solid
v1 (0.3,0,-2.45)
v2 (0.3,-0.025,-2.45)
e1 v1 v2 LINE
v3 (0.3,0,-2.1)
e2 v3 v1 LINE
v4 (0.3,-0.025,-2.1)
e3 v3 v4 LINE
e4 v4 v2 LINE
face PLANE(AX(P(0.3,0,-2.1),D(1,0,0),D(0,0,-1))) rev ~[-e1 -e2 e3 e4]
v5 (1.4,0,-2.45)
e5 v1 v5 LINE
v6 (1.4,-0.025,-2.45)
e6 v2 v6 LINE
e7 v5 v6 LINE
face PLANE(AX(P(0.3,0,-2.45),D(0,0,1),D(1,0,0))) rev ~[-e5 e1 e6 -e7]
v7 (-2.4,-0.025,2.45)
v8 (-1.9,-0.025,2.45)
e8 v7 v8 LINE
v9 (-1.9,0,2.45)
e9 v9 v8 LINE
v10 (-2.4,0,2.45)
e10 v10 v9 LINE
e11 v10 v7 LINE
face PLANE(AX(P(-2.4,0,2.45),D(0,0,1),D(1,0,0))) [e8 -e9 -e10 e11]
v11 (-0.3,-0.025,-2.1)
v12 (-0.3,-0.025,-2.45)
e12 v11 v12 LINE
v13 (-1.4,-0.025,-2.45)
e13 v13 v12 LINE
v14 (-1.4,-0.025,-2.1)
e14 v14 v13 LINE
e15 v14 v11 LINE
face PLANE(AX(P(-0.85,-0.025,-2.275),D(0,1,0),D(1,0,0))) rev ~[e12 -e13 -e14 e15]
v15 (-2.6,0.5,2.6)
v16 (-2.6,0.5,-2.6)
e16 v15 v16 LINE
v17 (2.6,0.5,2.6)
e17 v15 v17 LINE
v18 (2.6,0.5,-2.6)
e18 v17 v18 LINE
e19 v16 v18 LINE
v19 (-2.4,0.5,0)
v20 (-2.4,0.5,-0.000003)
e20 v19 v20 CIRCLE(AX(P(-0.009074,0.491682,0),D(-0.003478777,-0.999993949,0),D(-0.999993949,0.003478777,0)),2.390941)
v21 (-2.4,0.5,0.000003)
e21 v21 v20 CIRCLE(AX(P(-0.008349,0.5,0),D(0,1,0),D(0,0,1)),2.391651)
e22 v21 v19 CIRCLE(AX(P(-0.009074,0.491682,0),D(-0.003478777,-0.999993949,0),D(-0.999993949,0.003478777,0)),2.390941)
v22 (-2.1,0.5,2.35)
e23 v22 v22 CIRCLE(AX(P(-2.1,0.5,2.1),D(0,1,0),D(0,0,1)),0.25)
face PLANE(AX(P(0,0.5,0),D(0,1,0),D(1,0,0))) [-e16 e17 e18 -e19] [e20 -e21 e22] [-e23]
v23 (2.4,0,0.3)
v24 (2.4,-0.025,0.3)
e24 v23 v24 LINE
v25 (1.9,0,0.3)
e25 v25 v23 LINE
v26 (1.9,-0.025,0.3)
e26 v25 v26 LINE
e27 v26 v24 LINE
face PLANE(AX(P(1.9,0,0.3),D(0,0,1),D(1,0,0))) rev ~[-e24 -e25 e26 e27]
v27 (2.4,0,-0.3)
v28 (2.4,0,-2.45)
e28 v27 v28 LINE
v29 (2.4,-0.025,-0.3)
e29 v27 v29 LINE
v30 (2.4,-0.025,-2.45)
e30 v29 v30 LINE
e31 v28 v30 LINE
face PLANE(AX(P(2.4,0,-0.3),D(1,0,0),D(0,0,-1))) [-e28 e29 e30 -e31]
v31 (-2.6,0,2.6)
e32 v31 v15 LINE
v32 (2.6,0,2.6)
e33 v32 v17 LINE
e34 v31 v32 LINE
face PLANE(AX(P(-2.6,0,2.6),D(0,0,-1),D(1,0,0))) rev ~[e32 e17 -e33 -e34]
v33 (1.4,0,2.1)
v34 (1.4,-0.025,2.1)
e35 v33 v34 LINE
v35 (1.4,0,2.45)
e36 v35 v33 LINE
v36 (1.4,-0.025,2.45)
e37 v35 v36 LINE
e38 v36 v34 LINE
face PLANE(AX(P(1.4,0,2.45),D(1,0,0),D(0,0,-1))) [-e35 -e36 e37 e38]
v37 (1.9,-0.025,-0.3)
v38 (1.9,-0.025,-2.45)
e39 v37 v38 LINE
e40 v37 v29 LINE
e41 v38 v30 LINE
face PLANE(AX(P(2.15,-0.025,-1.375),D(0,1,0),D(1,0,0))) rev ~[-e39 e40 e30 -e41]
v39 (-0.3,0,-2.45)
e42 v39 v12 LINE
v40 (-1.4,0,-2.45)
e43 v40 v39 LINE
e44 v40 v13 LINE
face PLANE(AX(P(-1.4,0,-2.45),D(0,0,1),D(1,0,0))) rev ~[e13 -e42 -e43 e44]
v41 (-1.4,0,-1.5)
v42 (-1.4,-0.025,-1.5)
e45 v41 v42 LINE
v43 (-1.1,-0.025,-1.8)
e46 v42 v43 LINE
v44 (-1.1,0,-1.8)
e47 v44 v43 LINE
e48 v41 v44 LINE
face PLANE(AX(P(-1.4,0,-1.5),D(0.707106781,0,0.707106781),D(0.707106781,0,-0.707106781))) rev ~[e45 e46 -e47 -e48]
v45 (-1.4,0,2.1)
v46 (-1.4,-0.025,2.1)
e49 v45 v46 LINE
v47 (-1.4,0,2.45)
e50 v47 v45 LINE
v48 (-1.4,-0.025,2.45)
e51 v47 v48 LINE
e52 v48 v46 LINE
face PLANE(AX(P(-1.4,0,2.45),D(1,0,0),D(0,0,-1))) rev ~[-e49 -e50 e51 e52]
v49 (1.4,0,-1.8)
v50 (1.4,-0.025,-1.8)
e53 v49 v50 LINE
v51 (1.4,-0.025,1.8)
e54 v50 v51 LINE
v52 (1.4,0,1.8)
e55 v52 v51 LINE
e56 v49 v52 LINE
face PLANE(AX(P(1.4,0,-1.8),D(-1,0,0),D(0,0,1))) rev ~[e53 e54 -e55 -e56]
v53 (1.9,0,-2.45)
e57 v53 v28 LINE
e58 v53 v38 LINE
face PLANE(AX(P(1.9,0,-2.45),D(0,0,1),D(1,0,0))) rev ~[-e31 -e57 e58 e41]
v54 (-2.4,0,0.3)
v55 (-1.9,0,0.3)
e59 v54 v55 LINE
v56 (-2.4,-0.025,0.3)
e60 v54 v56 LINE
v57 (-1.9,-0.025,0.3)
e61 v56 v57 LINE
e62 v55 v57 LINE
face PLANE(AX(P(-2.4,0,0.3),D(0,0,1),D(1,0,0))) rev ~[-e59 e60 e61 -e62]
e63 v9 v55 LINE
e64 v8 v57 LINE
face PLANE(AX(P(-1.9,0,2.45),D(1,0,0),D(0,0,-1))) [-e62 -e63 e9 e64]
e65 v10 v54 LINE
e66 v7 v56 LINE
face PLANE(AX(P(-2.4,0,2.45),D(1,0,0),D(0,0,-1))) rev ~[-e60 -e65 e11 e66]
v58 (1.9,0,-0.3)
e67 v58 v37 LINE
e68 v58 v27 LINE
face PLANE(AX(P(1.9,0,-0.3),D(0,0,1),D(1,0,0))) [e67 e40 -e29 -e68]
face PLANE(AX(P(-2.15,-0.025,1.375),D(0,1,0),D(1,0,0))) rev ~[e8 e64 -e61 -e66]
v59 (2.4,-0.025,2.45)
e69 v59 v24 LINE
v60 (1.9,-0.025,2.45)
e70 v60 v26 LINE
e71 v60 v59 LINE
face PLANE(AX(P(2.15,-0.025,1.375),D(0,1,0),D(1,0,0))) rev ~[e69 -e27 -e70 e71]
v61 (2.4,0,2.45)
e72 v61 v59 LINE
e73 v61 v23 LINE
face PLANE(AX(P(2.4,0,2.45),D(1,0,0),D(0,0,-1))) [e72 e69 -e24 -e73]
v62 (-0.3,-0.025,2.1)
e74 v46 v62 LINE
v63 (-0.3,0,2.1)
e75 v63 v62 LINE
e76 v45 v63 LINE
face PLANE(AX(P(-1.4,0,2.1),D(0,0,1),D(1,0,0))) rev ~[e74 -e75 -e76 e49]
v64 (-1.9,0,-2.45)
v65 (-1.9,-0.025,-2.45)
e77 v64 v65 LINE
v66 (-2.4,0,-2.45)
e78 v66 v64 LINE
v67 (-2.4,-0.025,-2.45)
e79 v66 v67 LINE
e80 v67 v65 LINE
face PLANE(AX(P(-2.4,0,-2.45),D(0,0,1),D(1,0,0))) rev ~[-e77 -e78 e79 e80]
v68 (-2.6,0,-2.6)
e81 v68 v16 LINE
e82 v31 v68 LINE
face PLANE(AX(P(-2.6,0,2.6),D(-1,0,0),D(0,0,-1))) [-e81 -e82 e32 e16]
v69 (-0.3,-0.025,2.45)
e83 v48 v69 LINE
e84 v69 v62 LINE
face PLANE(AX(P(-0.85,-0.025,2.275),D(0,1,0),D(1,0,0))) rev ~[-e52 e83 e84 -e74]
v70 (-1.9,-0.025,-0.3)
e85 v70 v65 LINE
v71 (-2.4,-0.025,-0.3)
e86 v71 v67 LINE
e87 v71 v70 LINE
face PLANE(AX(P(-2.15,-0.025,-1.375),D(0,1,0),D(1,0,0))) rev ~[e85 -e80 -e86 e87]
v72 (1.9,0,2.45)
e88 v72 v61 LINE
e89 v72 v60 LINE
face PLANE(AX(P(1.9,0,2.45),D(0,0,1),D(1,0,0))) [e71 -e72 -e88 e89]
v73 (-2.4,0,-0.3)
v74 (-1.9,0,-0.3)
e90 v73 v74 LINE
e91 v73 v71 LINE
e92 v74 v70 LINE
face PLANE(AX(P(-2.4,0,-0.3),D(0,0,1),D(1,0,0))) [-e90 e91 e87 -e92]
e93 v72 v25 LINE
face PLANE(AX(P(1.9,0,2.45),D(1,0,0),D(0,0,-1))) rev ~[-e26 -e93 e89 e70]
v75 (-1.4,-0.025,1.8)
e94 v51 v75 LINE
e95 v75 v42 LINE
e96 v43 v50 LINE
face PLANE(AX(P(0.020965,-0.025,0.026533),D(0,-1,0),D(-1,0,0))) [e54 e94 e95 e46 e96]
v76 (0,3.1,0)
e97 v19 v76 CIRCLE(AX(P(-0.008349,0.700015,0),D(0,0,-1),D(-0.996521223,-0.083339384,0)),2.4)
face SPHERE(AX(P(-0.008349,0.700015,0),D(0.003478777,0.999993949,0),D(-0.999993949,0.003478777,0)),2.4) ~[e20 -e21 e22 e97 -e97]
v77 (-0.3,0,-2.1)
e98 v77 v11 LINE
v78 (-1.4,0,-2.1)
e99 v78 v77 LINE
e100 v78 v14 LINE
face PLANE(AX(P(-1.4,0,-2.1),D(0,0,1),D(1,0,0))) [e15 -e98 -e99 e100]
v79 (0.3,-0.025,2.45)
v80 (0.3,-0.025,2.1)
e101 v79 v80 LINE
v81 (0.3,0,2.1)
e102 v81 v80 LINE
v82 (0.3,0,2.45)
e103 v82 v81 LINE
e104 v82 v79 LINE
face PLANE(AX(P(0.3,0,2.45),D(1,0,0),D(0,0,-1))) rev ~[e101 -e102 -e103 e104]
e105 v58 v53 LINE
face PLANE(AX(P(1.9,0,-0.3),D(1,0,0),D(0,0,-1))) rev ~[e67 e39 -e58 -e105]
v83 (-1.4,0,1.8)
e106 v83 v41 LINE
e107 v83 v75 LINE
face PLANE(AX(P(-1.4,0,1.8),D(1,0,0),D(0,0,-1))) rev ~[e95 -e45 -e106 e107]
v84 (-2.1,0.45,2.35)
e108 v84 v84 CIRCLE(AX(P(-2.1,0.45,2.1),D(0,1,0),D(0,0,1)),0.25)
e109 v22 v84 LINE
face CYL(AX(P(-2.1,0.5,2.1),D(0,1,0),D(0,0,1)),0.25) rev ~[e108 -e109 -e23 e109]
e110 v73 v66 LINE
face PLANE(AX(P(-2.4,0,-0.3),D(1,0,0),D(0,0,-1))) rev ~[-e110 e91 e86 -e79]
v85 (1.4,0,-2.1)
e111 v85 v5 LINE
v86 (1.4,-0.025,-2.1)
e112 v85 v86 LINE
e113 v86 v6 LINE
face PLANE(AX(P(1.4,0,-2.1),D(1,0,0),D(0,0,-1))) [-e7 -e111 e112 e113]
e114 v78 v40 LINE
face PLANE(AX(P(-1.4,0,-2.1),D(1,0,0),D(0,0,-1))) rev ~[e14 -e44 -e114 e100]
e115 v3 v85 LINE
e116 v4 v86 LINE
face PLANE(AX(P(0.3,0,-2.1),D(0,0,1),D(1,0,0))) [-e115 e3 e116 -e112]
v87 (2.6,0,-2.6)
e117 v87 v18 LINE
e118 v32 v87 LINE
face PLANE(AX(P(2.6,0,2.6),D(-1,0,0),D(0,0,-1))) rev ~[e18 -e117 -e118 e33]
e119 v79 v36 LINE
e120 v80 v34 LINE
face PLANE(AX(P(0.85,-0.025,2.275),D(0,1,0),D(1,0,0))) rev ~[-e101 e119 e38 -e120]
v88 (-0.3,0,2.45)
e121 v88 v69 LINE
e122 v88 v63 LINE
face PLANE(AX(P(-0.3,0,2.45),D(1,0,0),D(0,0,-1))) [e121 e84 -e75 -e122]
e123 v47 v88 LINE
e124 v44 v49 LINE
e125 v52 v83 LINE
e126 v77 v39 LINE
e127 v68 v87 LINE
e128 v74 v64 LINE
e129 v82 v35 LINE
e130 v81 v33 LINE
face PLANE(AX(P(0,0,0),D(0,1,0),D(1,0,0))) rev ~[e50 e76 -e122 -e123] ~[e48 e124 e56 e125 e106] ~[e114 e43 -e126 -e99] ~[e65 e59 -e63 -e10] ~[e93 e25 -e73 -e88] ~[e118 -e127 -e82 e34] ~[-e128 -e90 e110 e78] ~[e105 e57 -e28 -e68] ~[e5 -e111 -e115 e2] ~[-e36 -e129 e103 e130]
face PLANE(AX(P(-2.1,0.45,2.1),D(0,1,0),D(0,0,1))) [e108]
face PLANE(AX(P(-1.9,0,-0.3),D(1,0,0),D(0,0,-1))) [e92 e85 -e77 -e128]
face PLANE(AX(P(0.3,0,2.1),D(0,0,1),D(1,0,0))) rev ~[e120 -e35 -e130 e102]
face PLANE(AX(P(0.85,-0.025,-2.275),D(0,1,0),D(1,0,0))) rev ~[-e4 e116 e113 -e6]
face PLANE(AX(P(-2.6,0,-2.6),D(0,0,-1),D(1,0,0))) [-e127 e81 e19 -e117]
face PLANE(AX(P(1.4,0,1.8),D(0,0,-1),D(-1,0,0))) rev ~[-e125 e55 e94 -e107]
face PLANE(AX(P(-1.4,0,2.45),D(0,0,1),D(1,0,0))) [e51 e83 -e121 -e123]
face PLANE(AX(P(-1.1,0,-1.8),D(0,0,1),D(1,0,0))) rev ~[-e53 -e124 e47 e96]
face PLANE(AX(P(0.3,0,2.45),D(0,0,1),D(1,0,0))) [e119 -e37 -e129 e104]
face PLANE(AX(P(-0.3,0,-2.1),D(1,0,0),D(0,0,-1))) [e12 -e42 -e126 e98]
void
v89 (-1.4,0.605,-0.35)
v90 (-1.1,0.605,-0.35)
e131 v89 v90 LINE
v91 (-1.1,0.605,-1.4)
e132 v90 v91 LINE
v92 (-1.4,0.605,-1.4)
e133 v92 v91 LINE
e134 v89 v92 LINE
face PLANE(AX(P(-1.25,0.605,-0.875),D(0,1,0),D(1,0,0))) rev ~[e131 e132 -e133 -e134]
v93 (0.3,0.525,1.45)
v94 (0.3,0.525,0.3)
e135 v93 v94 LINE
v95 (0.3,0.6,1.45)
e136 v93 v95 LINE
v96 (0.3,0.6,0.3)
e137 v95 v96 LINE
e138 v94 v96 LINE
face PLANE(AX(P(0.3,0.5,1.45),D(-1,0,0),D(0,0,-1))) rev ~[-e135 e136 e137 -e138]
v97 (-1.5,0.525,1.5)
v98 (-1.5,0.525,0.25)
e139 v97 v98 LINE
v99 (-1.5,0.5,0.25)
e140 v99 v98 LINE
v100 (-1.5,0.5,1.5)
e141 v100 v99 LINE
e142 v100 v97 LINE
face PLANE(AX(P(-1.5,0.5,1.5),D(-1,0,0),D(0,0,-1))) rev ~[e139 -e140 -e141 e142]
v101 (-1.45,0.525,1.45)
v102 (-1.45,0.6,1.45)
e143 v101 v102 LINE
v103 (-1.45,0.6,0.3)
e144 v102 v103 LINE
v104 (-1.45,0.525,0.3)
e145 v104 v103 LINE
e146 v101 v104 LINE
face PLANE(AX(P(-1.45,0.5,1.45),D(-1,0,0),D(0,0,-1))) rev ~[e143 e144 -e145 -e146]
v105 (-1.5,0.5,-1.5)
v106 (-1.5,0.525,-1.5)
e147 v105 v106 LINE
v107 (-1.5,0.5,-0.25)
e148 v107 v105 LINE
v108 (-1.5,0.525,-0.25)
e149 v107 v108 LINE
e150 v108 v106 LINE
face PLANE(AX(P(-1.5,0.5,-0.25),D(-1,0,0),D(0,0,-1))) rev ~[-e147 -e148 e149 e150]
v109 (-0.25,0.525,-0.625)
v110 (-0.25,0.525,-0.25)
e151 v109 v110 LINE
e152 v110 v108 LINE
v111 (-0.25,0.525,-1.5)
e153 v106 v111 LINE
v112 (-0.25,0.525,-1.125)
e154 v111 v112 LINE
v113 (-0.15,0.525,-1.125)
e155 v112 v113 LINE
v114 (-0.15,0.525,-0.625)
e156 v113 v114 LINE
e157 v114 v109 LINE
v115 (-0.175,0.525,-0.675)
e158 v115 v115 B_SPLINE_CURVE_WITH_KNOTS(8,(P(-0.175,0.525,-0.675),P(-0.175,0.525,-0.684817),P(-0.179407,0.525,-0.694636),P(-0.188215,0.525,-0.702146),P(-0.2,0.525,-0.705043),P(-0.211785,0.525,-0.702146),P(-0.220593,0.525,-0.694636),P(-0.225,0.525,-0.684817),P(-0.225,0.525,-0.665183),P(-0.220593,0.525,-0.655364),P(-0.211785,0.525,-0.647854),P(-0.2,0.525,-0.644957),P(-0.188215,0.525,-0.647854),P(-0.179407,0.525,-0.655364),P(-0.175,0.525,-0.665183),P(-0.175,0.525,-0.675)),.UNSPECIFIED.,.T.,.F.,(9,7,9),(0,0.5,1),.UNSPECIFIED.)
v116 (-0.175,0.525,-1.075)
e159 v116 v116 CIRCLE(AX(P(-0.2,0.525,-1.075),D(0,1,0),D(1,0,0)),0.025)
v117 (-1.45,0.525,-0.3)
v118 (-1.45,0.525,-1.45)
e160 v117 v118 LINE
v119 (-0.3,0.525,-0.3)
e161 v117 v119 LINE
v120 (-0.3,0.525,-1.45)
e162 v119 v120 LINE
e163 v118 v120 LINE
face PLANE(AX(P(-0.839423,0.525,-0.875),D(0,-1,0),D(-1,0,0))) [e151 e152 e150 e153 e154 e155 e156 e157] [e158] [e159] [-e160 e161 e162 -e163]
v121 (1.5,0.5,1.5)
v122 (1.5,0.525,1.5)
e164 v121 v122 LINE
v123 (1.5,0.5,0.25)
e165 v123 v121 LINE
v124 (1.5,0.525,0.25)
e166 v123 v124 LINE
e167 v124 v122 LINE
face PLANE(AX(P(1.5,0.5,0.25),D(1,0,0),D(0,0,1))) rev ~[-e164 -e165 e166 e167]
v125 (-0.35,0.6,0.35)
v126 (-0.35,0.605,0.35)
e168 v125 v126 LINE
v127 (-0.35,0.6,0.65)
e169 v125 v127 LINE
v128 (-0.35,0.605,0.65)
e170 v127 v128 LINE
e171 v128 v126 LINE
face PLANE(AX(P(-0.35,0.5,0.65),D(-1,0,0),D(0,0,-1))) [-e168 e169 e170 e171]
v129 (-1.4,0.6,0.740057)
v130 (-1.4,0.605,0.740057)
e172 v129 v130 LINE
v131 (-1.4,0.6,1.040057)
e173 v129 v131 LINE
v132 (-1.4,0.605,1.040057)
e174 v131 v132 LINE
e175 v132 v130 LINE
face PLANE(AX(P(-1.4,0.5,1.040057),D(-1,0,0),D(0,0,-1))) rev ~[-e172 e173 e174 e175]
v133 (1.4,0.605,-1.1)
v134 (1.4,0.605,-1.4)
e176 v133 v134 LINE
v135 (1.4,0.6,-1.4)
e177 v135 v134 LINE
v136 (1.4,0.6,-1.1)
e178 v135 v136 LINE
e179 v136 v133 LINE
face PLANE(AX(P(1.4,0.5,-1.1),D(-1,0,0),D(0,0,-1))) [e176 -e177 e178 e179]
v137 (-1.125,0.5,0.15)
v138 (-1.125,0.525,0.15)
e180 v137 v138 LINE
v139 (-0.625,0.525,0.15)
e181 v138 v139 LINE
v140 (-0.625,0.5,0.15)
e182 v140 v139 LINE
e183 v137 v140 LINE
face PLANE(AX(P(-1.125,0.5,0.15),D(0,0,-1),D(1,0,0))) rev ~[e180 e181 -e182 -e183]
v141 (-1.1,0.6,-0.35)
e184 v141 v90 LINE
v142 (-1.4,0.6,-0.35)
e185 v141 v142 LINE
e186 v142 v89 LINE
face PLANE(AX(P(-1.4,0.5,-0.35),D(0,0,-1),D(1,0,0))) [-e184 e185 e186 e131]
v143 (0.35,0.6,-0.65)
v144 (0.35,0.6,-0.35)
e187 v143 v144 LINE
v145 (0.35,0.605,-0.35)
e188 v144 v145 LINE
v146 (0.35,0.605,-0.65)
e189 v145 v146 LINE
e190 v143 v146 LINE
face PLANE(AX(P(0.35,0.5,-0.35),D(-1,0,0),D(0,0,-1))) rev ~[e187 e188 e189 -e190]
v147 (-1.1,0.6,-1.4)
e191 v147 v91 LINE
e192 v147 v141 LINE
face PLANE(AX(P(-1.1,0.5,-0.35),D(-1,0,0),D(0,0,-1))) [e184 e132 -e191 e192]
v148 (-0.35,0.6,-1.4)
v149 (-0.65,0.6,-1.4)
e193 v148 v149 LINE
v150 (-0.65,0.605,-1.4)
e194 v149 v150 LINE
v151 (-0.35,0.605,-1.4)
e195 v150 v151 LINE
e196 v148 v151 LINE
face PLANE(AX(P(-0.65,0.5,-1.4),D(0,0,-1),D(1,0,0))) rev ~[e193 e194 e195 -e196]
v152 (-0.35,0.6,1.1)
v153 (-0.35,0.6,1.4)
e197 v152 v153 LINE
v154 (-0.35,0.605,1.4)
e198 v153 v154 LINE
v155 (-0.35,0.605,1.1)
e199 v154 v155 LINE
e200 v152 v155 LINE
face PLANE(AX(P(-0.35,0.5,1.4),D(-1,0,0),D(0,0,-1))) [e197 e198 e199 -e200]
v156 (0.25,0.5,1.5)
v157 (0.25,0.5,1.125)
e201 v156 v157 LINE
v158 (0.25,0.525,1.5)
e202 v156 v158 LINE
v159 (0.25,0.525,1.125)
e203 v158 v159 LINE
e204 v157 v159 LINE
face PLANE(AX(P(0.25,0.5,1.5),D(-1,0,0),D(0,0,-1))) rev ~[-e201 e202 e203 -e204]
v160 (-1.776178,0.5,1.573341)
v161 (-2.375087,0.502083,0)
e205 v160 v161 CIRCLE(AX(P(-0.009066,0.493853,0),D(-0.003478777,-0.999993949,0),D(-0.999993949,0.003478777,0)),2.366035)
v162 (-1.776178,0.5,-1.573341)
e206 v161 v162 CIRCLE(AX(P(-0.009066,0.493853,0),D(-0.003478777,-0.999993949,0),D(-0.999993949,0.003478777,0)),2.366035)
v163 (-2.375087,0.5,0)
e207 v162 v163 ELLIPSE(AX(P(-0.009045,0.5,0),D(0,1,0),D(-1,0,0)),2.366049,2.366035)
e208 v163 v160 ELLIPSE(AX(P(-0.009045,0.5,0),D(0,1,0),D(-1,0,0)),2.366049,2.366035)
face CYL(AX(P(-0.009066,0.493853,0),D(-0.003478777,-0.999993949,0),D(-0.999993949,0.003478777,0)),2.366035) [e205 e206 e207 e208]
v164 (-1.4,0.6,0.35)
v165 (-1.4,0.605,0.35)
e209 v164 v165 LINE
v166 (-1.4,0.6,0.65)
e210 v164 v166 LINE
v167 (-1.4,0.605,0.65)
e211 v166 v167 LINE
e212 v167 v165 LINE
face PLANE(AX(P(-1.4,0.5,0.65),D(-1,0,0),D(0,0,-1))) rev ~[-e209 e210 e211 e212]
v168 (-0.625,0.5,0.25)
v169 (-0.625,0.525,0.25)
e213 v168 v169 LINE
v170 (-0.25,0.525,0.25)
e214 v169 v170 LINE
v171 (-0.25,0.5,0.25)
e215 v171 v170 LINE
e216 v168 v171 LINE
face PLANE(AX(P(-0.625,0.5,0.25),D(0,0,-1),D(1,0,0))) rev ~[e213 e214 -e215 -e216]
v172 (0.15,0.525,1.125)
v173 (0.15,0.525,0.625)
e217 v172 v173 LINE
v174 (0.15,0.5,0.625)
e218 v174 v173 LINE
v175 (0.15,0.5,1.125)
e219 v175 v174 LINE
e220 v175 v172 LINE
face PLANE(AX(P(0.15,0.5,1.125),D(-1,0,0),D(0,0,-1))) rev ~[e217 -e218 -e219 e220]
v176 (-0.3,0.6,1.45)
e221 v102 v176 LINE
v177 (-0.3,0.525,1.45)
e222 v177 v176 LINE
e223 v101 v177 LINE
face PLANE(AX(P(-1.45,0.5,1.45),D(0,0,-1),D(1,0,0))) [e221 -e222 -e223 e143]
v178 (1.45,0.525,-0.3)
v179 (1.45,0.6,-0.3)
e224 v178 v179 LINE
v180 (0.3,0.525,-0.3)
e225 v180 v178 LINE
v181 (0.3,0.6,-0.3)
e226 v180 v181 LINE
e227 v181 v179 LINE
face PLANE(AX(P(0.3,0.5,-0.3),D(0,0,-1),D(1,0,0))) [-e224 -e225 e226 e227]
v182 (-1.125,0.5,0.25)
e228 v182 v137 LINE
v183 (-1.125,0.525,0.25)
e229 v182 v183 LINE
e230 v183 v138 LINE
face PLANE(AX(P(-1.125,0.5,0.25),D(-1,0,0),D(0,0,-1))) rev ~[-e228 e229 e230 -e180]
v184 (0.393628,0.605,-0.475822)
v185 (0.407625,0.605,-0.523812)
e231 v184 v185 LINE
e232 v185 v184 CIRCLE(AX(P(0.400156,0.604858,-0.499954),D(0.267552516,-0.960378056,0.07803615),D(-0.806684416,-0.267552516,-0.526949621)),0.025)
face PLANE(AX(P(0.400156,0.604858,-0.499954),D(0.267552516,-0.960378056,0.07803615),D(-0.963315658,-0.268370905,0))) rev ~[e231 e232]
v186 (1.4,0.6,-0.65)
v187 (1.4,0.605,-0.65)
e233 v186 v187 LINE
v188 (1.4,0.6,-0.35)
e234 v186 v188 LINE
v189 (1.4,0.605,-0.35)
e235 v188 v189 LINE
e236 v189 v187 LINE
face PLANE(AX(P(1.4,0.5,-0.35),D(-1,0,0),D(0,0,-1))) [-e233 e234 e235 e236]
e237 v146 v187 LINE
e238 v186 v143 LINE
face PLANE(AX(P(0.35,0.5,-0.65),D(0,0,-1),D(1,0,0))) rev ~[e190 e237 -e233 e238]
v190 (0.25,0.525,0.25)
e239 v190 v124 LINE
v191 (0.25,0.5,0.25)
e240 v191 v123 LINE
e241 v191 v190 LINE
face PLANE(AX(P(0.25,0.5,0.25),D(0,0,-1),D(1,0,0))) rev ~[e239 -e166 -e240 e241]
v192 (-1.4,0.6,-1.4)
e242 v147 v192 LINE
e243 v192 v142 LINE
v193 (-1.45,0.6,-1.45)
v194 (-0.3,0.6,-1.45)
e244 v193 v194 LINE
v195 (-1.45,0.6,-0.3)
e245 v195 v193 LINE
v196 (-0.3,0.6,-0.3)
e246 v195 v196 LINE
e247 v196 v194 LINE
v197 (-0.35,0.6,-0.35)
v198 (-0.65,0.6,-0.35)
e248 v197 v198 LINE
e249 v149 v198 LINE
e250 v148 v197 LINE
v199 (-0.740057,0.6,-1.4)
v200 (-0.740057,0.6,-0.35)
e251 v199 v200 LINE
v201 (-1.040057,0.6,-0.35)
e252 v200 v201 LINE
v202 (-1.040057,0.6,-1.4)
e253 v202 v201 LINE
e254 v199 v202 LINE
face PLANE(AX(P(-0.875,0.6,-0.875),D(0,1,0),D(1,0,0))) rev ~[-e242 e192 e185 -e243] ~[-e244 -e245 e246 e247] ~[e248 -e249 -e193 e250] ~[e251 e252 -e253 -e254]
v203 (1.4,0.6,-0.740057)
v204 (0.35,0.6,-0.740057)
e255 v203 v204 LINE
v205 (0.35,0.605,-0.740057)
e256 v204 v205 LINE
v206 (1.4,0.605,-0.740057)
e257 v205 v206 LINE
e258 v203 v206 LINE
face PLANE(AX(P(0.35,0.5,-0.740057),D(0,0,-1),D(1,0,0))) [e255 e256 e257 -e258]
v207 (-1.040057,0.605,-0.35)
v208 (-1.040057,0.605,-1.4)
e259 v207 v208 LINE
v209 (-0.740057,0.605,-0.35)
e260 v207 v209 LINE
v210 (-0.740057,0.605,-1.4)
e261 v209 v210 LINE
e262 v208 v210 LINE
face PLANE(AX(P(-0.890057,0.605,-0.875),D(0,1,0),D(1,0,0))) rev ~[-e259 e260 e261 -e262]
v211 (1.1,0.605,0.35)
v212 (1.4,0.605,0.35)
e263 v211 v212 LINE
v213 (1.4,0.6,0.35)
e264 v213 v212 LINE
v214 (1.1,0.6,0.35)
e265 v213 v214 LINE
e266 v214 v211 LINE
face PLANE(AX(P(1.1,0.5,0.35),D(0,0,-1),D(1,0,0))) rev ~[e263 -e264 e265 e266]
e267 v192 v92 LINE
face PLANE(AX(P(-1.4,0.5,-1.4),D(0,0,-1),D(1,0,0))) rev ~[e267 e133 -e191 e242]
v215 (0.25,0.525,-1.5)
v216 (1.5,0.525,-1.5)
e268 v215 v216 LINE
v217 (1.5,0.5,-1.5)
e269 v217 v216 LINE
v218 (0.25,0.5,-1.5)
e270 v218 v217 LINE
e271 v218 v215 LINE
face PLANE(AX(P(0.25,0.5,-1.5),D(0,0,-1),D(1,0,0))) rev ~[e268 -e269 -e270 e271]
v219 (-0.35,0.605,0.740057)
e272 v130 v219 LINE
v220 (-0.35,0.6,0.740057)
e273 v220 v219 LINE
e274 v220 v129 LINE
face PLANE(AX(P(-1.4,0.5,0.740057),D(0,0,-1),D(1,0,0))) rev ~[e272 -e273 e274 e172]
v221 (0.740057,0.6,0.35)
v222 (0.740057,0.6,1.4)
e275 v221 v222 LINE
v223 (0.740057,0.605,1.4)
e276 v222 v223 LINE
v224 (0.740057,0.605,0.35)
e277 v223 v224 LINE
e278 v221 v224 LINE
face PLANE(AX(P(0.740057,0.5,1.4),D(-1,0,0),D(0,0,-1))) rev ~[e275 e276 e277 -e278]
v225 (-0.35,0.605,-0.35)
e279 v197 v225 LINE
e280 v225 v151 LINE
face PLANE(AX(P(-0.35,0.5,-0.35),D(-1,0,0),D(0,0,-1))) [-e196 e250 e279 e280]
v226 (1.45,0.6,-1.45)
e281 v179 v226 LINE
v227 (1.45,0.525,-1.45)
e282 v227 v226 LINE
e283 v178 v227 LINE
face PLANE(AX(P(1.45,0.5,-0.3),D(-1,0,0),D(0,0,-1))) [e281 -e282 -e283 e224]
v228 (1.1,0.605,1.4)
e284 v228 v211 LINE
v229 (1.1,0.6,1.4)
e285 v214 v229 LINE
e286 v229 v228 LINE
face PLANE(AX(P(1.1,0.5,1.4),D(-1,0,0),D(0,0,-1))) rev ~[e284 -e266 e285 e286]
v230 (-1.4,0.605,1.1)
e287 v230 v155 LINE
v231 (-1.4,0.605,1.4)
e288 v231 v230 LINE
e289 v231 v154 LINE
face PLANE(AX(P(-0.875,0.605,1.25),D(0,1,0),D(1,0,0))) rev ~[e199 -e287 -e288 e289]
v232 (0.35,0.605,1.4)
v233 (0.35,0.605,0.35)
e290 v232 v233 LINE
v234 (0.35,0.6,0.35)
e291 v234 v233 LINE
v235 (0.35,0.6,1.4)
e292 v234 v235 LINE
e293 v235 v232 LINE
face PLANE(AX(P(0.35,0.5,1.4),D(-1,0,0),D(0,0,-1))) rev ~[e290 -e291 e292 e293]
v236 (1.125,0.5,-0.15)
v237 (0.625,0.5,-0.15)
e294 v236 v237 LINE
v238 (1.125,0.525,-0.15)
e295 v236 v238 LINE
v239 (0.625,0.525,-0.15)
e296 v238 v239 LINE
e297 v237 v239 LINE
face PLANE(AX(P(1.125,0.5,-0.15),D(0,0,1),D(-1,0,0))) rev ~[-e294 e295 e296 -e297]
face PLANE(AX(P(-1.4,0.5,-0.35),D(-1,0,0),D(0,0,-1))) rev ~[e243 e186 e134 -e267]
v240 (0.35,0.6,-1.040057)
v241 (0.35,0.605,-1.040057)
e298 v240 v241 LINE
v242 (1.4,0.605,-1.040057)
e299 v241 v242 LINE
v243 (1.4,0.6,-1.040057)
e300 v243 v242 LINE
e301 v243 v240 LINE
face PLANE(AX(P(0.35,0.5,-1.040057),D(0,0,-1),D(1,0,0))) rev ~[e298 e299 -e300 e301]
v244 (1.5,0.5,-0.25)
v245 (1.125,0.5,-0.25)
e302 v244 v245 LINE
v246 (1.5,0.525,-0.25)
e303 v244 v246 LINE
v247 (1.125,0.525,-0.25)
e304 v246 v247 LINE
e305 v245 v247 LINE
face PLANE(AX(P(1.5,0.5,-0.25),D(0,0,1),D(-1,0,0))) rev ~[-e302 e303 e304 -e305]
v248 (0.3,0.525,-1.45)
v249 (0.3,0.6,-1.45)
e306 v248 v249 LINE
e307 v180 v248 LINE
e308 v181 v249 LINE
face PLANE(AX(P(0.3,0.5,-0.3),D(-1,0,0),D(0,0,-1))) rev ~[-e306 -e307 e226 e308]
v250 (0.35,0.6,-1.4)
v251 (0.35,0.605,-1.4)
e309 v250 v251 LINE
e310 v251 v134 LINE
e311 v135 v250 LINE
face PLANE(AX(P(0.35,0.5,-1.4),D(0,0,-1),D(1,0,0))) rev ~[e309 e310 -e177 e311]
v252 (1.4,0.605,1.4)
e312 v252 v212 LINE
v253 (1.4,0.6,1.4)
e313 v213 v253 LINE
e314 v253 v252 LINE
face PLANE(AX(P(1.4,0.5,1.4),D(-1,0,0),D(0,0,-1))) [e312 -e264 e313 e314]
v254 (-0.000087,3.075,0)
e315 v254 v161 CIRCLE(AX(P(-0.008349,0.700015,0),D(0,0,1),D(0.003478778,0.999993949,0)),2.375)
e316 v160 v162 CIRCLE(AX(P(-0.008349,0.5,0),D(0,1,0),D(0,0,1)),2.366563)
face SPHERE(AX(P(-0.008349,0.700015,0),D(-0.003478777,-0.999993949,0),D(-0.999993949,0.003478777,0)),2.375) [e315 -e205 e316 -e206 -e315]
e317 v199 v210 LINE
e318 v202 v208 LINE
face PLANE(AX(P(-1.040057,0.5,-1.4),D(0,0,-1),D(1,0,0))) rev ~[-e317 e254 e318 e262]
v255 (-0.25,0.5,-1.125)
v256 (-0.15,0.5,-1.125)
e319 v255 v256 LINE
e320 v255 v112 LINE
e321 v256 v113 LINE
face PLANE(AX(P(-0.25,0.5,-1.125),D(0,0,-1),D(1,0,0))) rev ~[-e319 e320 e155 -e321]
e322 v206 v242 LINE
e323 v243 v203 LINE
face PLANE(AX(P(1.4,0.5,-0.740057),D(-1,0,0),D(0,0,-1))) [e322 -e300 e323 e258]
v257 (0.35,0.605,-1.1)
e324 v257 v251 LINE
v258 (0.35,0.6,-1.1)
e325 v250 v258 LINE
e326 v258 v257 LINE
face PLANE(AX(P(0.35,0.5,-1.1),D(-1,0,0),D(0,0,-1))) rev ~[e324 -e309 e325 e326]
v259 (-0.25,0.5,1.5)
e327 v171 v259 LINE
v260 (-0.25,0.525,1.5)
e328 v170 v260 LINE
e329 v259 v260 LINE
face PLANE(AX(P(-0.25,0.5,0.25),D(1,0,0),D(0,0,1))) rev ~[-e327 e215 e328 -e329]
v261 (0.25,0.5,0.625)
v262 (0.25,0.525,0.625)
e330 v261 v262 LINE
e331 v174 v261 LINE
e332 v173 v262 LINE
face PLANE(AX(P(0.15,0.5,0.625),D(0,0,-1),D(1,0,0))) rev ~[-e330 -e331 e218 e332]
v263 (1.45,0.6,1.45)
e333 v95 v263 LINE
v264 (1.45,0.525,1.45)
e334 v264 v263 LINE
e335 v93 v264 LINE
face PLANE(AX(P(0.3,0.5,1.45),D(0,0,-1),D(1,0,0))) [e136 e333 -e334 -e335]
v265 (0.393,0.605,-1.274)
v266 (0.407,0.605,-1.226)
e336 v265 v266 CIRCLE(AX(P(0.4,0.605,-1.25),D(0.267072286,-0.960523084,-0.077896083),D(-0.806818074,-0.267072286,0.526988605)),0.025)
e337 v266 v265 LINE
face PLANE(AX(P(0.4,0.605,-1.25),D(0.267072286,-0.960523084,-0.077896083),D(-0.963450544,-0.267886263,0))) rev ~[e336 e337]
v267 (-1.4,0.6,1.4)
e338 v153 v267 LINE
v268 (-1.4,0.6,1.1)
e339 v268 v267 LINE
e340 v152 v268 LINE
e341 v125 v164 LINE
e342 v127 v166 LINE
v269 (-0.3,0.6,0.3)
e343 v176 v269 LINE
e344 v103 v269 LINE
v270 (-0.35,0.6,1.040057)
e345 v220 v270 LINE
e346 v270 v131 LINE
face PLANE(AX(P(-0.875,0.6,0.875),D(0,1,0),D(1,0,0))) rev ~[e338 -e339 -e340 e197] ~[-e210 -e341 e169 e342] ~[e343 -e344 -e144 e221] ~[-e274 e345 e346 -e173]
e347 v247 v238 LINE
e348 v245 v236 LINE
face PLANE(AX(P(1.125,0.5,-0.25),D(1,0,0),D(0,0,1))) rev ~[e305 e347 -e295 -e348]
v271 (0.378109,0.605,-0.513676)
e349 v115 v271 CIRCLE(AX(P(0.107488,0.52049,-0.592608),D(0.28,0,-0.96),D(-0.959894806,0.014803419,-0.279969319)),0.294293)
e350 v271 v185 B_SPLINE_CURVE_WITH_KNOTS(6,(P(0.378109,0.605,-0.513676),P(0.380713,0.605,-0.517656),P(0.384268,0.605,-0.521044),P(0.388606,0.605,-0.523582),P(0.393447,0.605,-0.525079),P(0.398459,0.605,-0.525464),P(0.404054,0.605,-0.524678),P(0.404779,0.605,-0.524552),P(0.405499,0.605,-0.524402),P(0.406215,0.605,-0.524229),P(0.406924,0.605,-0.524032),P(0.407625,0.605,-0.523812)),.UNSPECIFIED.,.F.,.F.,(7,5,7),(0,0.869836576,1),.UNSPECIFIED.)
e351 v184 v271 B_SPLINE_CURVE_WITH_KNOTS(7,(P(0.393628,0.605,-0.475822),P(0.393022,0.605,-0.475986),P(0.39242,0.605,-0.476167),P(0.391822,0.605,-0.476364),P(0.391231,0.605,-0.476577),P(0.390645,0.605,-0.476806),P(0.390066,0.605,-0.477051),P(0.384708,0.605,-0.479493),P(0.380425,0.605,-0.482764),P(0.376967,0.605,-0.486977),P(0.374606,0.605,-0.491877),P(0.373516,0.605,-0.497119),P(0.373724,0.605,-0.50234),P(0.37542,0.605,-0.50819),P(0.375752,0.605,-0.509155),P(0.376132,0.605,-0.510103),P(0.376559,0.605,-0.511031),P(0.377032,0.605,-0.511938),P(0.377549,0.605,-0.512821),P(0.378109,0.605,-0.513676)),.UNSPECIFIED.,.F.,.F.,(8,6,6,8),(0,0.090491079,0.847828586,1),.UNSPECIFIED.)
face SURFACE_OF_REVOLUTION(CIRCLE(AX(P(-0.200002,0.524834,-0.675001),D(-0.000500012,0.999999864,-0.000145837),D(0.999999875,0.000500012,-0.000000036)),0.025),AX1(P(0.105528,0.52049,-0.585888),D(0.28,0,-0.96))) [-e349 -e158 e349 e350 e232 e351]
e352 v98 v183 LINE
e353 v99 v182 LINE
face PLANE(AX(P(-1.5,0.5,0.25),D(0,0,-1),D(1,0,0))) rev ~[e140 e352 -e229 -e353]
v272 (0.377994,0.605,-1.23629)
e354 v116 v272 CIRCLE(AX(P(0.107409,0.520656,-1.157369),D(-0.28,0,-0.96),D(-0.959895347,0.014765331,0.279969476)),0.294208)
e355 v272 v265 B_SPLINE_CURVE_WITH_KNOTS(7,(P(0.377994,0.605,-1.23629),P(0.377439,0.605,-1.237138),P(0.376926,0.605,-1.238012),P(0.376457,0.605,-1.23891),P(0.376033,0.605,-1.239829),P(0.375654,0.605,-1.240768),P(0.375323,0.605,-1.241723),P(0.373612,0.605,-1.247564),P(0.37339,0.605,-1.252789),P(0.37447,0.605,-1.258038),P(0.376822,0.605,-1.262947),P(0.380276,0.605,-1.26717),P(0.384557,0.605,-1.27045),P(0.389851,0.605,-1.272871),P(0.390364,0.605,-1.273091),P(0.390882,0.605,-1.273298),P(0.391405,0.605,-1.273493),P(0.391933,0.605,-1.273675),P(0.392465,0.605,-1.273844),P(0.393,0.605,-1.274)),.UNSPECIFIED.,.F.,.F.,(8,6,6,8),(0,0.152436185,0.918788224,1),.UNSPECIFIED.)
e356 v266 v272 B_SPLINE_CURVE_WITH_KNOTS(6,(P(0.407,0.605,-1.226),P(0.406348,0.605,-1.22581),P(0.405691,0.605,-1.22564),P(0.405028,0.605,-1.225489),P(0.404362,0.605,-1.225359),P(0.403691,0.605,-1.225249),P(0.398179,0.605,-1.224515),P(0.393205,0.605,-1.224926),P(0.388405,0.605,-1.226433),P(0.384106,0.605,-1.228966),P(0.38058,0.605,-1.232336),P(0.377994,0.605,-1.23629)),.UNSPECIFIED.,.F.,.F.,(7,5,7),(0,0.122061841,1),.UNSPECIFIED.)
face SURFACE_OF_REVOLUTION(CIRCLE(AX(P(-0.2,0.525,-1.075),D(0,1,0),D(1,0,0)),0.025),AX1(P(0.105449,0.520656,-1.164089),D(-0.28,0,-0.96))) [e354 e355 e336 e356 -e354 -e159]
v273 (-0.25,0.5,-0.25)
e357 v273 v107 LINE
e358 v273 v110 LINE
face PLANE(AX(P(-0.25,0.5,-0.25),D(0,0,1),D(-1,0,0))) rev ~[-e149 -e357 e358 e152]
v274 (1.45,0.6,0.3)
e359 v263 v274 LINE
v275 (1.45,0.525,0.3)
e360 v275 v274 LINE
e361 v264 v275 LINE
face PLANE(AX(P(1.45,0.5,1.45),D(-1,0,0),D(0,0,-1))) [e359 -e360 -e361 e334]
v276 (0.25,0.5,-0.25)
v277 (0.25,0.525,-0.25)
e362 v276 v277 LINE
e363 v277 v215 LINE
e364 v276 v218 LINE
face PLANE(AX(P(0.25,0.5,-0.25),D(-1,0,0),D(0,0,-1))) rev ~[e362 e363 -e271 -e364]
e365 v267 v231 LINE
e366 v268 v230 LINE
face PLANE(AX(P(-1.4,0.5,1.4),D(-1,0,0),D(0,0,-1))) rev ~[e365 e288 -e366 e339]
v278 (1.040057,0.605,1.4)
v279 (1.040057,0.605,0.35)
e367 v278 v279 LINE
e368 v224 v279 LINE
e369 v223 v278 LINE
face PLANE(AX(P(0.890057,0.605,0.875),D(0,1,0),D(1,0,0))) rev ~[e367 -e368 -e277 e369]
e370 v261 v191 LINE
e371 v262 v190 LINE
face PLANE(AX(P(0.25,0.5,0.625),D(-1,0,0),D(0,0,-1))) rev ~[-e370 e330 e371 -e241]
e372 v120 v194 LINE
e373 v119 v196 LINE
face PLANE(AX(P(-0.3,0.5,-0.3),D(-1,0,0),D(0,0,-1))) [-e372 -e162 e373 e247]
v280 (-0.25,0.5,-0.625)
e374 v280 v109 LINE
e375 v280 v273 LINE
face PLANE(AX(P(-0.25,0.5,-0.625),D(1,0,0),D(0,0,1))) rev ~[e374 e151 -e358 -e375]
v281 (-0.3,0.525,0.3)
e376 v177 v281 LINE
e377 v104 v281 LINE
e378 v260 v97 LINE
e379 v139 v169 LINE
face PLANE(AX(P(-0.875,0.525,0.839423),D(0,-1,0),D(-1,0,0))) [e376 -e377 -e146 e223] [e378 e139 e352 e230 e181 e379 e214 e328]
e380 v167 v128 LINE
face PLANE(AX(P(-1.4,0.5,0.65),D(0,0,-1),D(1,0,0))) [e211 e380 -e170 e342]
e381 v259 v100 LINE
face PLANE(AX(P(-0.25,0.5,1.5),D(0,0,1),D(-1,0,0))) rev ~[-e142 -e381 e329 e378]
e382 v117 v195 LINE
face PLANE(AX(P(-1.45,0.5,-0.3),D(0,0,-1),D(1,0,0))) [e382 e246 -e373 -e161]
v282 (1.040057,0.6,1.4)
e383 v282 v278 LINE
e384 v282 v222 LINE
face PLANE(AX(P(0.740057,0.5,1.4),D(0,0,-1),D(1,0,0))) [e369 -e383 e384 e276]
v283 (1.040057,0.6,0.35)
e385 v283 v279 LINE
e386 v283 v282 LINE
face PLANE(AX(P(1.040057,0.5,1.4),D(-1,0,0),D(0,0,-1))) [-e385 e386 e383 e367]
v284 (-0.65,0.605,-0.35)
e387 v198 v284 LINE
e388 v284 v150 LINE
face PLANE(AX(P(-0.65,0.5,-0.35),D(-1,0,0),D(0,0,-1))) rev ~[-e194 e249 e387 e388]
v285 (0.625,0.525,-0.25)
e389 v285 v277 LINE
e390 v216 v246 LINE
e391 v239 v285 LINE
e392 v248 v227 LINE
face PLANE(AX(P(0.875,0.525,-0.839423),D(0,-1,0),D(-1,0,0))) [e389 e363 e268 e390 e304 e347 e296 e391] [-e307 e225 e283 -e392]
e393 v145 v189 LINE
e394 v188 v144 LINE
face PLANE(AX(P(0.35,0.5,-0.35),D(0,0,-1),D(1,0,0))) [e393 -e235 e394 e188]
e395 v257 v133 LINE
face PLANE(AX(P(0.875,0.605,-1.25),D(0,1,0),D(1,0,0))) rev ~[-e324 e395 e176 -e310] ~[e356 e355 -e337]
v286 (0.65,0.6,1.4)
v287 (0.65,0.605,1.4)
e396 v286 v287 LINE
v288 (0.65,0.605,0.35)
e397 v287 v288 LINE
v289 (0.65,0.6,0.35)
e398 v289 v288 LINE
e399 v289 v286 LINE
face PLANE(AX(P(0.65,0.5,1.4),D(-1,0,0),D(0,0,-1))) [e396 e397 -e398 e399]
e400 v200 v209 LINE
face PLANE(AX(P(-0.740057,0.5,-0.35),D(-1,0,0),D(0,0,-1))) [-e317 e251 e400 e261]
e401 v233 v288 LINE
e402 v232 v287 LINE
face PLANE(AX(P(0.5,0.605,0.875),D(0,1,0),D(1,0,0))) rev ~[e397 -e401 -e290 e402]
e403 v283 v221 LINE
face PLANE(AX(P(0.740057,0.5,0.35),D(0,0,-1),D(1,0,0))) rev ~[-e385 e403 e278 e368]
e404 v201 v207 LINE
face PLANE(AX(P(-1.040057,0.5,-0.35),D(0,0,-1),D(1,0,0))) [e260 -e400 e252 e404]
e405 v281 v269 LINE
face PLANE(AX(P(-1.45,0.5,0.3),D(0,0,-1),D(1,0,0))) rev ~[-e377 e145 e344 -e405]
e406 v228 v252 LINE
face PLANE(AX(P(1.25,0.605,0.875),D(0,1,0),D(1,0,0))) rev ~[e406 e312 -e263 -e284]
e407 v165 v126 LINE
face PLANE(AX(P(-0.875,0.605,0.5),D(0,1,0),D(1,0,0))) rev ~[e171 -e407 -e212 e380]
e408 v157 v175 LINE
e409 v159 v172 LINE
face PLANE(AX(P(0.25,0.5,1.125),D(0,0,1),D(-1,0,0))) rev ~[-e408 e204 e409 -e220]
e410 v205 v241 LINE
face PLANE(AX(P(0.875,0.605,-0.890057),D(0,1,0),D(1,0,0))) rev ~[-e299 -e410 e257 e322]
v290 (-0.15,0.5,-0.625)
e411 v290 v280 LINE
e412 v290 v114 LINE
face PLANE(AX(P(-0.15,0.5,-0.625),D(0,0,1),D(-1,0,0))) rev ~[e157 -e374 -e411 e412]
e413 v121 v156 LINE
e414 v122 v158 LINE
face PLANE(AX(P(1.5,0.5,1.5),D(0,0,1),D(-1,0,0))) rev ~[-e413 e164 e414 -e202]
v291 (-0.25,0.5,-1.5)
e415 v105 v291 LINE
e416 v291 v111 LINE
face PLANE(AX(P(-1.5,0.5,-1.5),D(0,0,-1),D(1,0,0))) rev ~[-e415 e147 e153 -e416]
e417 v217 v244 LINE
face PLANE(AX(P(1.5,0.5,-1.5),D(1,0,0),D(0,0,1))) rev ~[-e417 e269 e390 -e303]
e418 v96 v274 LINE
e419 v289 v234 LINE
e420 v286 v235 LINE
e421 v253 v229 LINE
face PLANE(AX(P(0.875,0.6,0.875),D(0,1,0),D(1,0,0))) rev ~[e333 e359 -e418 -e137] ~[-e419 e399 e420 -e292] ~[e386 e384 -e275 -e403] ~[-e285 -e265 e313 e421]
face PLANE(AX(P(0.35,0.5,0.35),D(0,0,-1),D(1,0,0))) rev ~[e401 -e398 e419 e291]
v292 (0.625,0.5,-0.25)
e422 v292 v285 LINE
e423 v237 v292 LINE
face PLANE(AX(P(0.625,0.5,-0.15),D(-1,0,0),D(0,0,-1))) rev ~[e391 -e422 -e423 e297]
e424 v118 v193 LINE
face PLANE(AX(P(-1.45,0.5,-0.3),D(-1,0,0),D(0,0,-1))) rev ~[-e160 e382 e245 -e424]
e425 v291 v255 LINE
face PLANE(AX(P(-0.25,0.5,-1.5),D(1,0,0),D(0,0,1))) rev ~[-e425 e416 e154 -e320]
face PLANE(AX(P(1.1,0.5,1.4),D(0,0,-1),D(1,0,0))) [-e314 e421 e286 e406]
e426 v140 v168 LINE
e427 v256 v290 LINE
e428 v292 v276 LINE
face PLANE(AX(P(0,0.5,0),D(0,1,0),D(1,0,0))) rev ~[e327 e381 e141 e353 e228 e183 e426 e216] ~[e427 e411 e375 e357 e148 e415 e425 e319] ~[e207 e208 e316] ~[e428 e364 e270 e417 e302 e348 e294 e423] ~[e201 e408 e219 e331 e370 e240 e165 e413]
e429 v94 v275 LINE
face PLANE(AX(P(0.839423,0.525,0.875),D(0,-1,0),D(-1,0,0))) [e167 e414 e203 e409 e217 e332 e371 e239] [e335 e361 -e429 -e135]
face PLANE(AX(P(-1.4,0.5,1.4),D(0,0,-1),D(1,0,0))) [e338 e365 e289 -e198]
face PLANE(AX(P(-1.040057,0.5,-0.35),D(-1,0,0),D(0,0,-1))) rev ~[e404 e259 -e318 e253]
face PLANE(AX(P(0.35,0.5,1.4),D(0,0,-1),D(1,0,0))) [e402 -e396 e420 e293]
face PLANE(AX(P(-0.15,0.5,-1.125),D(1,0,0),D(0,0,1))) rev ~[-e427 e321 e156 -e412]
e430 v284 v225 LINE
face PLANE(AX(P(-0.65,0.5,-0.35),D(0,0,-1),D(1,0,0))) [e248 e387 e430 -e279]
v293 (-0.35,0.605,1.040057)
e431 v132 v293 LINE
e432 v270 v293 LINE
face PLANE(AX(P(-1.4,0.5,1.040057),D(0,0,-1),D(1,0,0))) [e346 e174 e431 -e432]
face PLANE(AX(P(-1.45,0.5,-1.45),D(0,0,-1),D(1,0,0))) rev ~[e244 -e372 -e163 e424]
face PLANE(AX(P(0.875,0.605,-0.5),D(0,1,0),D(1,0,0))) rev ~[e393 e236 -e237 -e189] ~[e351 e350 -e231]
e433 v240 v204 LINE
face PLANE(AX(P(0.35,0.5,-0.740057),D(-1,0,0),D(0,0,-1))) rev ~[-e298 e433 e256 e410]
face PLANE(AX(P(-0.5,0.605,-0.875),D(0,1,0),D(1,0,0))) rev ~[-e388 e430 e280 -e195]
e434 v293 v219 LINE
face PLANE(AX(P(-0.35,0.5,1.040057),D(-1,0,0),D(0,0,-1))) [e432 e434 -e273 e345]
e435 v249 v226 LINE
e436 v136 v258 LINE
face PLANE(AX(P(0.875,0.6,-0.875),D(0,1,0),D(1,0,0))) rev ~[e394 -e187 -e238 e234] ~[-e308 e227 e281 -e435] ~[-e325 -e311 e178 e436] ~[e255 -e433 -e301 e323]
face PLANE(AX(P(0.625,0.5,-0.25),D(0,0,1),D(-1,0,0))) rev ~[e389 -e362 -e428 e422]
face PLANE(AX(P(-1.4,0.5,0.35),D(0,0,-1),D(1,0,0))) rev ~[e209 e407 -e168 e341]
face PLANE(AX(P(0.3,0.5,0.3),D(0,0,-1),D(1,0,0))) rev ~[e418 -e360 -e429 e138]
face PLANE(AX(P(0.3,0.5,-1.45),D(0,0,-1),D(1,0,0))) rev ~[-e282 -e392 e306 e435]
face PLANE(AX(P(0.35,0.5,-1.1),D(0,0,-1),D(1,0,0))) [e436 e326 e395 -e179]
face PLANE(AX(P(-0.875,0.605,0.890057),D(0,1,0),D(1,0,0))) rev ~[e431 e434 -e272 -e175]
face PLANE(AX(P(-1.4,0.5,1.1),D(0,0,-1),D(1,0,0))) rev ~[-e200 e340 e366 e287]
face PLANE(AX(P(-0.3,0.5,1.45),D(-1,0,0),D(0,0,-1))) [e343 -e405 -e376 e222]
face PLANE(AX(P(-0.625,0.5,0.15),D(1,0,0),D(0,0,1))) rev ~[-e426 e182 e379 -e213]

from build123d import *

# Parameters (mm, degrees)
ESQUISSE1_W             = 5.2
ESQUISSE1_H             = 5.2
BOSS_EXTRU_1_DEPTH      = 0.5
ESQUISSE1_3_W           = 1.1
ESQUISSE1_3_H           = 0.35
ESQUISSE1_3_W_2         = 0.5
ESQUISSE1_3_H_2         = 2.15
BOSS_EXTRU_2_DEPTH      = 0.025
BOSS_EXTRU_3_DEPTH      = 0.025
ESQUISSE4_3_W           = 1.15
ESQUISSE4_3_H           = 1.15
BOSS_EXTRU_4_DEPTH      = 0.1
ESQUISSE4_4_W           = 0.3
ESQUISSE4_4_H           = 1.05
ESQUISSE4_4_W_2         = 1.05
ESQUISSE4_4_H_2         = 0.3
BOSS_EXTRU_5_DEPTH      = 0.105
ESQUISSE5_R             = 0.025
ESQUISSE10_R            = 0.025
ESQUISSE12_R            = 0.25
ENL_V_MAT_EXTRU_1_DEPTH = 0.05


with BuildPart() as part:
    # Esquisse1 → Boss.-Extru.1 (new body)
    with BuildSketch(Plane(origin=(0, 0, 0), x_dir=(1, 0, 0), z_dir=(0, 1, 0))):
        Rectangle(ESQUISSE1_W, ESQUISSE1_H)
    extrude(amount=BOSS_EXTRU_1_DEPTH)

    # Esquisse1<3> → Boss.-Extru.2 (add)
    with BuildSketch(Plane(origin=(0, 0, 0), x_dir=(1, 0, 0), z_dir=(0, 1, 0))):
        with Locations((-0.85, 2.275)):
            Rectangle(ESQUISSE1_3_W, ESQUISSE1_3_H)
        with Locations((-2.15, 1.375)):
            Rectangle(ESQUISSE1_3_W_2, ESQUISSE1_3_H_2)
        with Locations((-2.15, -1.375)):
            Rectangle(ESQUISSE1_3_W_2, ESQUISSE1_3_H_2)
        with Locations((2.15, 1.375)):
            Rectangle(ESQUISSE1_3_W_2, ESQUISSE1_3_H_2)
        with Locations((0.85, 2.275)):
            Rectangle(ESQUISSE1_3_W, ESQUISSE1_3_H)
        with Locations((0.85, -2.275)):
            Rectangle(ESQUISSE1_3_W, ESQUISSE1_3_H)
        with Locations((2.15, -1.375)):
            Rectangle(ESQUISSE1_3_W_2, ESQUISSE1_3_H_2)
        Polygon((-1.4, 1.5), (-1.4, -1.8), (1.4, -1.8), (1.4, 1.8), (-1.1, 1.8), align=None)
        with Locations((-0.85, -2.275)):
            Rectangle(ESQUISSE1_3_W, ESQUISSE1_3_H)
    extrude(amount=-BOSS_EXTRU_2_DEPTH)

    # Esquisse4 → Boss.-Extru.3 (add)
    with BuildSketch(Plane(origin=(0, 0.5, 0), x_dir=(1, 0, 0), z_dir=(0, 1, 0))):
        Polygon((-0.25, 1.125), (-0.15, 1.125), (-0.15, 0.625), (-0.25, 0.625), (-0.25, 0.25), (-1.5, 0.25), (-1.5, 1.5), (-0.25, 1.5), align=None)
        Polygon((1.125, 0.25), (1.125, 0.15), (0.625, 0.15), (0.625, 0.25), (0.25, 0.25), (0.25, 1.5), (1.5, 1.5), (1.5, 0.25), align=None)
        Polygon((-1.125, -0.25), (-1.125, -0.15), (-0.625, -0.15), (-0.625, -0.25), (-0.25, -0.25), (-0.25, -1.5), (-1.5, -1.5), (-1.5, -0.25), align=None)
        Polygon((0.25, -1.125), (0.15, -1.125), (0.15, -0.625), (0.25, -0.625), (0.25, -0.25), (1.5, -0.25), (1.5, -1.5), (0.25, -1.5), align=None)
    extrude(amount=BOSS_EXTRU_3_DEPTH)

    # Esquisse4<3> → Boss.-Extru.4 (add)
    with BuildSketch(Plane(origin=(0, 0.5, 0), x_dir=(1, 0, 0), z_dir=(0, 1, 0))):
        with Locations((0.875, 0.875)):
            Rectangle(ESQUISSE4_3_W, ESQUISSE4_3_H)
        with Locations((0.875, -0.875)):
            Rectangle(ESQUISSE4_3_W, ESQUISSE4_3_H)
        with Locations((-0.875, 0.875)):
            Rectangle(ESQUISSE4_3_W, ESQUISSE4_3_H)
        with Locations((-0.875, -0.875)):
            Rectangle(ESQUISSE4_3_W, ESQUISSE4_3_H)
    extrude(amount=BOSS_EXTRU_4_DEPTH)

    # Esquisse4<4> → Boss.-Extru.5 (add)
    with BuildSketch(Plane(origin=(0, 0.5, 0), x_dir=(1, 0, 0), z_dir=(0, 1, 0))):
        with Locations((-1.25, 0.875)):
            Rectangle(ESQUISSE4_4_W, ESQUISSE4_4_H)
        with Locations((-0.890056992, 0.875)):
            Rectangle(ESQUISSE4_4_W, ESQUISSE4_4_H)
        with Locations((-0.5, 0.875)):
            Rectangle(ESQUISSE4_4_W, ESQUISSE4_4_H)
        with Locations((0.875, 1.25)):
            Rectangle(ESQUISSE4_4_W_2, ESQUISSE4_4_H_2)
        with Locations((0.875, 0.890056992)):
            Rectangle(ESQUISSE4_4_W_2, ESQUISSE4_4_H_2)
        with Locations((0.875, 0.5)):
            Rectangle(ESQUISSE4_4_W_2, ESQUISSE4_4_H_2)
        with Locations((1.25, -0.875)):
            Rectangle(ESQUISSE4_4_W, ESQUISSE4_4_H)
        with Locations((0.890056992, -0.875)):
            Rectangle(ESQUISSE4_4_W, ESQUISSE4_4_H)
        with Locations((0.5, -0.875)):
            Rectangle(ESQUISSE4_4_W, ESQUISSE4_4_H)
        with Locations((-0.875, -1.25)):
            Rectangle(ESQUISSE4_4_W_2, ESQUISSE4_4_H_2)
        with Locations((-0.875, -0.890056992)):
            Rectangle(ESQUISSE4_4_W_2, ESQUISSE4_4_H_2)
        with Locations((-0.875, -0.5)):
            Rectangle(ESQUISSE4_4_W_2, ESQUISSE4_4_H_2)
    extrude(amount=BOSS_EXTRU_5_DEPTH)

    # Balayage1: sweep along a path in Esquisse9
    with BuildLine(Plane(origin=(-0.30464, 0, -1.04448), x_dir=(-0.9600000000000009, 0, 0.27999999999999686), z_dir=(-0.2799999999999969, 0, -0.960000000000001))) as balayage1_path:
        ThreePointArc((-0.109, 0.525), (-0.386775331, 0.836286475), (-0.734, 0.605))
    # Esquisse5 → Balayage1 (sweep)
    with BuildSketch(Plane(origin=(0, 0.525, 0), x_dir=(1, 0, 0), z_dir=(0, 1, 0))):
        with Locations((-0.2, 1.075)):
            Circle(ESQUISSE5_R)
    sweep(path=balayage1_path.line)

    # Balayage2: sweep along a path in Esquisse11
    with BuildLine(Plane(origin=(0.16576, 0, -0.56832), x_dir=(-0.9600000000000003, 0, -0.2799999999999993), z_dir=(0.2799999999999993, 0, -0.9600000000000003))) as balayage2_path:
        ThreePointArc((0.380918066, 0.52483428), (0.103142735, 0.836120756), (-0.244081934, 0.60483428))
    # Esquisse10 → Balayage2 (sweep)
    with BuildSketch(Plane(origin=(0, 0.525, 0), x_dir=(1, 0, 0), z_dir=(0, 1, 0))):
        with Locations((-0.2, 0.675)):
            Circle(ESQUISSE10_R)
    sweep(path=balayage2_path.line)

    # Esquisse3 → Révolution2 (revolve)
    with BuildSketch(Plane.XY):
        with BuildLine():
            Line((0, 3.1), (-8.6969e-05, 3.075000151))
            ThreePointArc((-8.6969e-05, 3.075000151), (-1.753507247, 2.310929766), (-2.375086969, 0.502083485))
            Line((-2.375086969, 0.502083485), (-2.375086969, 0.5))
            Line((-2.375086969, 0.5), (-2.4, 0.5))
            ThreePointArc((-2.4, 0.5), (-1.771877333, 2.327886769), (0, 3.1))
        make_face()
    revolve(axis=Axis((0, 3.1, 0), (-0.0034787774337874176, -0.999993949035476, 0)))

    # Esquisse12 → Enlèv. mat.-Extru.1 (cut)
    with BuildSketch(Plane(origin=(0, 0.5, 0), x_dir=(1, 0, 0), z_dir=(0, 1, 0))):
        with Locations((-2.1, -2.1)):
            Circle(ESQUISSE12_R)
    extrude(amount=-ENL_V_MAT_EXTRU_1_DEPTH, mode=Mode.SUBTRACT)


solid = part.part
